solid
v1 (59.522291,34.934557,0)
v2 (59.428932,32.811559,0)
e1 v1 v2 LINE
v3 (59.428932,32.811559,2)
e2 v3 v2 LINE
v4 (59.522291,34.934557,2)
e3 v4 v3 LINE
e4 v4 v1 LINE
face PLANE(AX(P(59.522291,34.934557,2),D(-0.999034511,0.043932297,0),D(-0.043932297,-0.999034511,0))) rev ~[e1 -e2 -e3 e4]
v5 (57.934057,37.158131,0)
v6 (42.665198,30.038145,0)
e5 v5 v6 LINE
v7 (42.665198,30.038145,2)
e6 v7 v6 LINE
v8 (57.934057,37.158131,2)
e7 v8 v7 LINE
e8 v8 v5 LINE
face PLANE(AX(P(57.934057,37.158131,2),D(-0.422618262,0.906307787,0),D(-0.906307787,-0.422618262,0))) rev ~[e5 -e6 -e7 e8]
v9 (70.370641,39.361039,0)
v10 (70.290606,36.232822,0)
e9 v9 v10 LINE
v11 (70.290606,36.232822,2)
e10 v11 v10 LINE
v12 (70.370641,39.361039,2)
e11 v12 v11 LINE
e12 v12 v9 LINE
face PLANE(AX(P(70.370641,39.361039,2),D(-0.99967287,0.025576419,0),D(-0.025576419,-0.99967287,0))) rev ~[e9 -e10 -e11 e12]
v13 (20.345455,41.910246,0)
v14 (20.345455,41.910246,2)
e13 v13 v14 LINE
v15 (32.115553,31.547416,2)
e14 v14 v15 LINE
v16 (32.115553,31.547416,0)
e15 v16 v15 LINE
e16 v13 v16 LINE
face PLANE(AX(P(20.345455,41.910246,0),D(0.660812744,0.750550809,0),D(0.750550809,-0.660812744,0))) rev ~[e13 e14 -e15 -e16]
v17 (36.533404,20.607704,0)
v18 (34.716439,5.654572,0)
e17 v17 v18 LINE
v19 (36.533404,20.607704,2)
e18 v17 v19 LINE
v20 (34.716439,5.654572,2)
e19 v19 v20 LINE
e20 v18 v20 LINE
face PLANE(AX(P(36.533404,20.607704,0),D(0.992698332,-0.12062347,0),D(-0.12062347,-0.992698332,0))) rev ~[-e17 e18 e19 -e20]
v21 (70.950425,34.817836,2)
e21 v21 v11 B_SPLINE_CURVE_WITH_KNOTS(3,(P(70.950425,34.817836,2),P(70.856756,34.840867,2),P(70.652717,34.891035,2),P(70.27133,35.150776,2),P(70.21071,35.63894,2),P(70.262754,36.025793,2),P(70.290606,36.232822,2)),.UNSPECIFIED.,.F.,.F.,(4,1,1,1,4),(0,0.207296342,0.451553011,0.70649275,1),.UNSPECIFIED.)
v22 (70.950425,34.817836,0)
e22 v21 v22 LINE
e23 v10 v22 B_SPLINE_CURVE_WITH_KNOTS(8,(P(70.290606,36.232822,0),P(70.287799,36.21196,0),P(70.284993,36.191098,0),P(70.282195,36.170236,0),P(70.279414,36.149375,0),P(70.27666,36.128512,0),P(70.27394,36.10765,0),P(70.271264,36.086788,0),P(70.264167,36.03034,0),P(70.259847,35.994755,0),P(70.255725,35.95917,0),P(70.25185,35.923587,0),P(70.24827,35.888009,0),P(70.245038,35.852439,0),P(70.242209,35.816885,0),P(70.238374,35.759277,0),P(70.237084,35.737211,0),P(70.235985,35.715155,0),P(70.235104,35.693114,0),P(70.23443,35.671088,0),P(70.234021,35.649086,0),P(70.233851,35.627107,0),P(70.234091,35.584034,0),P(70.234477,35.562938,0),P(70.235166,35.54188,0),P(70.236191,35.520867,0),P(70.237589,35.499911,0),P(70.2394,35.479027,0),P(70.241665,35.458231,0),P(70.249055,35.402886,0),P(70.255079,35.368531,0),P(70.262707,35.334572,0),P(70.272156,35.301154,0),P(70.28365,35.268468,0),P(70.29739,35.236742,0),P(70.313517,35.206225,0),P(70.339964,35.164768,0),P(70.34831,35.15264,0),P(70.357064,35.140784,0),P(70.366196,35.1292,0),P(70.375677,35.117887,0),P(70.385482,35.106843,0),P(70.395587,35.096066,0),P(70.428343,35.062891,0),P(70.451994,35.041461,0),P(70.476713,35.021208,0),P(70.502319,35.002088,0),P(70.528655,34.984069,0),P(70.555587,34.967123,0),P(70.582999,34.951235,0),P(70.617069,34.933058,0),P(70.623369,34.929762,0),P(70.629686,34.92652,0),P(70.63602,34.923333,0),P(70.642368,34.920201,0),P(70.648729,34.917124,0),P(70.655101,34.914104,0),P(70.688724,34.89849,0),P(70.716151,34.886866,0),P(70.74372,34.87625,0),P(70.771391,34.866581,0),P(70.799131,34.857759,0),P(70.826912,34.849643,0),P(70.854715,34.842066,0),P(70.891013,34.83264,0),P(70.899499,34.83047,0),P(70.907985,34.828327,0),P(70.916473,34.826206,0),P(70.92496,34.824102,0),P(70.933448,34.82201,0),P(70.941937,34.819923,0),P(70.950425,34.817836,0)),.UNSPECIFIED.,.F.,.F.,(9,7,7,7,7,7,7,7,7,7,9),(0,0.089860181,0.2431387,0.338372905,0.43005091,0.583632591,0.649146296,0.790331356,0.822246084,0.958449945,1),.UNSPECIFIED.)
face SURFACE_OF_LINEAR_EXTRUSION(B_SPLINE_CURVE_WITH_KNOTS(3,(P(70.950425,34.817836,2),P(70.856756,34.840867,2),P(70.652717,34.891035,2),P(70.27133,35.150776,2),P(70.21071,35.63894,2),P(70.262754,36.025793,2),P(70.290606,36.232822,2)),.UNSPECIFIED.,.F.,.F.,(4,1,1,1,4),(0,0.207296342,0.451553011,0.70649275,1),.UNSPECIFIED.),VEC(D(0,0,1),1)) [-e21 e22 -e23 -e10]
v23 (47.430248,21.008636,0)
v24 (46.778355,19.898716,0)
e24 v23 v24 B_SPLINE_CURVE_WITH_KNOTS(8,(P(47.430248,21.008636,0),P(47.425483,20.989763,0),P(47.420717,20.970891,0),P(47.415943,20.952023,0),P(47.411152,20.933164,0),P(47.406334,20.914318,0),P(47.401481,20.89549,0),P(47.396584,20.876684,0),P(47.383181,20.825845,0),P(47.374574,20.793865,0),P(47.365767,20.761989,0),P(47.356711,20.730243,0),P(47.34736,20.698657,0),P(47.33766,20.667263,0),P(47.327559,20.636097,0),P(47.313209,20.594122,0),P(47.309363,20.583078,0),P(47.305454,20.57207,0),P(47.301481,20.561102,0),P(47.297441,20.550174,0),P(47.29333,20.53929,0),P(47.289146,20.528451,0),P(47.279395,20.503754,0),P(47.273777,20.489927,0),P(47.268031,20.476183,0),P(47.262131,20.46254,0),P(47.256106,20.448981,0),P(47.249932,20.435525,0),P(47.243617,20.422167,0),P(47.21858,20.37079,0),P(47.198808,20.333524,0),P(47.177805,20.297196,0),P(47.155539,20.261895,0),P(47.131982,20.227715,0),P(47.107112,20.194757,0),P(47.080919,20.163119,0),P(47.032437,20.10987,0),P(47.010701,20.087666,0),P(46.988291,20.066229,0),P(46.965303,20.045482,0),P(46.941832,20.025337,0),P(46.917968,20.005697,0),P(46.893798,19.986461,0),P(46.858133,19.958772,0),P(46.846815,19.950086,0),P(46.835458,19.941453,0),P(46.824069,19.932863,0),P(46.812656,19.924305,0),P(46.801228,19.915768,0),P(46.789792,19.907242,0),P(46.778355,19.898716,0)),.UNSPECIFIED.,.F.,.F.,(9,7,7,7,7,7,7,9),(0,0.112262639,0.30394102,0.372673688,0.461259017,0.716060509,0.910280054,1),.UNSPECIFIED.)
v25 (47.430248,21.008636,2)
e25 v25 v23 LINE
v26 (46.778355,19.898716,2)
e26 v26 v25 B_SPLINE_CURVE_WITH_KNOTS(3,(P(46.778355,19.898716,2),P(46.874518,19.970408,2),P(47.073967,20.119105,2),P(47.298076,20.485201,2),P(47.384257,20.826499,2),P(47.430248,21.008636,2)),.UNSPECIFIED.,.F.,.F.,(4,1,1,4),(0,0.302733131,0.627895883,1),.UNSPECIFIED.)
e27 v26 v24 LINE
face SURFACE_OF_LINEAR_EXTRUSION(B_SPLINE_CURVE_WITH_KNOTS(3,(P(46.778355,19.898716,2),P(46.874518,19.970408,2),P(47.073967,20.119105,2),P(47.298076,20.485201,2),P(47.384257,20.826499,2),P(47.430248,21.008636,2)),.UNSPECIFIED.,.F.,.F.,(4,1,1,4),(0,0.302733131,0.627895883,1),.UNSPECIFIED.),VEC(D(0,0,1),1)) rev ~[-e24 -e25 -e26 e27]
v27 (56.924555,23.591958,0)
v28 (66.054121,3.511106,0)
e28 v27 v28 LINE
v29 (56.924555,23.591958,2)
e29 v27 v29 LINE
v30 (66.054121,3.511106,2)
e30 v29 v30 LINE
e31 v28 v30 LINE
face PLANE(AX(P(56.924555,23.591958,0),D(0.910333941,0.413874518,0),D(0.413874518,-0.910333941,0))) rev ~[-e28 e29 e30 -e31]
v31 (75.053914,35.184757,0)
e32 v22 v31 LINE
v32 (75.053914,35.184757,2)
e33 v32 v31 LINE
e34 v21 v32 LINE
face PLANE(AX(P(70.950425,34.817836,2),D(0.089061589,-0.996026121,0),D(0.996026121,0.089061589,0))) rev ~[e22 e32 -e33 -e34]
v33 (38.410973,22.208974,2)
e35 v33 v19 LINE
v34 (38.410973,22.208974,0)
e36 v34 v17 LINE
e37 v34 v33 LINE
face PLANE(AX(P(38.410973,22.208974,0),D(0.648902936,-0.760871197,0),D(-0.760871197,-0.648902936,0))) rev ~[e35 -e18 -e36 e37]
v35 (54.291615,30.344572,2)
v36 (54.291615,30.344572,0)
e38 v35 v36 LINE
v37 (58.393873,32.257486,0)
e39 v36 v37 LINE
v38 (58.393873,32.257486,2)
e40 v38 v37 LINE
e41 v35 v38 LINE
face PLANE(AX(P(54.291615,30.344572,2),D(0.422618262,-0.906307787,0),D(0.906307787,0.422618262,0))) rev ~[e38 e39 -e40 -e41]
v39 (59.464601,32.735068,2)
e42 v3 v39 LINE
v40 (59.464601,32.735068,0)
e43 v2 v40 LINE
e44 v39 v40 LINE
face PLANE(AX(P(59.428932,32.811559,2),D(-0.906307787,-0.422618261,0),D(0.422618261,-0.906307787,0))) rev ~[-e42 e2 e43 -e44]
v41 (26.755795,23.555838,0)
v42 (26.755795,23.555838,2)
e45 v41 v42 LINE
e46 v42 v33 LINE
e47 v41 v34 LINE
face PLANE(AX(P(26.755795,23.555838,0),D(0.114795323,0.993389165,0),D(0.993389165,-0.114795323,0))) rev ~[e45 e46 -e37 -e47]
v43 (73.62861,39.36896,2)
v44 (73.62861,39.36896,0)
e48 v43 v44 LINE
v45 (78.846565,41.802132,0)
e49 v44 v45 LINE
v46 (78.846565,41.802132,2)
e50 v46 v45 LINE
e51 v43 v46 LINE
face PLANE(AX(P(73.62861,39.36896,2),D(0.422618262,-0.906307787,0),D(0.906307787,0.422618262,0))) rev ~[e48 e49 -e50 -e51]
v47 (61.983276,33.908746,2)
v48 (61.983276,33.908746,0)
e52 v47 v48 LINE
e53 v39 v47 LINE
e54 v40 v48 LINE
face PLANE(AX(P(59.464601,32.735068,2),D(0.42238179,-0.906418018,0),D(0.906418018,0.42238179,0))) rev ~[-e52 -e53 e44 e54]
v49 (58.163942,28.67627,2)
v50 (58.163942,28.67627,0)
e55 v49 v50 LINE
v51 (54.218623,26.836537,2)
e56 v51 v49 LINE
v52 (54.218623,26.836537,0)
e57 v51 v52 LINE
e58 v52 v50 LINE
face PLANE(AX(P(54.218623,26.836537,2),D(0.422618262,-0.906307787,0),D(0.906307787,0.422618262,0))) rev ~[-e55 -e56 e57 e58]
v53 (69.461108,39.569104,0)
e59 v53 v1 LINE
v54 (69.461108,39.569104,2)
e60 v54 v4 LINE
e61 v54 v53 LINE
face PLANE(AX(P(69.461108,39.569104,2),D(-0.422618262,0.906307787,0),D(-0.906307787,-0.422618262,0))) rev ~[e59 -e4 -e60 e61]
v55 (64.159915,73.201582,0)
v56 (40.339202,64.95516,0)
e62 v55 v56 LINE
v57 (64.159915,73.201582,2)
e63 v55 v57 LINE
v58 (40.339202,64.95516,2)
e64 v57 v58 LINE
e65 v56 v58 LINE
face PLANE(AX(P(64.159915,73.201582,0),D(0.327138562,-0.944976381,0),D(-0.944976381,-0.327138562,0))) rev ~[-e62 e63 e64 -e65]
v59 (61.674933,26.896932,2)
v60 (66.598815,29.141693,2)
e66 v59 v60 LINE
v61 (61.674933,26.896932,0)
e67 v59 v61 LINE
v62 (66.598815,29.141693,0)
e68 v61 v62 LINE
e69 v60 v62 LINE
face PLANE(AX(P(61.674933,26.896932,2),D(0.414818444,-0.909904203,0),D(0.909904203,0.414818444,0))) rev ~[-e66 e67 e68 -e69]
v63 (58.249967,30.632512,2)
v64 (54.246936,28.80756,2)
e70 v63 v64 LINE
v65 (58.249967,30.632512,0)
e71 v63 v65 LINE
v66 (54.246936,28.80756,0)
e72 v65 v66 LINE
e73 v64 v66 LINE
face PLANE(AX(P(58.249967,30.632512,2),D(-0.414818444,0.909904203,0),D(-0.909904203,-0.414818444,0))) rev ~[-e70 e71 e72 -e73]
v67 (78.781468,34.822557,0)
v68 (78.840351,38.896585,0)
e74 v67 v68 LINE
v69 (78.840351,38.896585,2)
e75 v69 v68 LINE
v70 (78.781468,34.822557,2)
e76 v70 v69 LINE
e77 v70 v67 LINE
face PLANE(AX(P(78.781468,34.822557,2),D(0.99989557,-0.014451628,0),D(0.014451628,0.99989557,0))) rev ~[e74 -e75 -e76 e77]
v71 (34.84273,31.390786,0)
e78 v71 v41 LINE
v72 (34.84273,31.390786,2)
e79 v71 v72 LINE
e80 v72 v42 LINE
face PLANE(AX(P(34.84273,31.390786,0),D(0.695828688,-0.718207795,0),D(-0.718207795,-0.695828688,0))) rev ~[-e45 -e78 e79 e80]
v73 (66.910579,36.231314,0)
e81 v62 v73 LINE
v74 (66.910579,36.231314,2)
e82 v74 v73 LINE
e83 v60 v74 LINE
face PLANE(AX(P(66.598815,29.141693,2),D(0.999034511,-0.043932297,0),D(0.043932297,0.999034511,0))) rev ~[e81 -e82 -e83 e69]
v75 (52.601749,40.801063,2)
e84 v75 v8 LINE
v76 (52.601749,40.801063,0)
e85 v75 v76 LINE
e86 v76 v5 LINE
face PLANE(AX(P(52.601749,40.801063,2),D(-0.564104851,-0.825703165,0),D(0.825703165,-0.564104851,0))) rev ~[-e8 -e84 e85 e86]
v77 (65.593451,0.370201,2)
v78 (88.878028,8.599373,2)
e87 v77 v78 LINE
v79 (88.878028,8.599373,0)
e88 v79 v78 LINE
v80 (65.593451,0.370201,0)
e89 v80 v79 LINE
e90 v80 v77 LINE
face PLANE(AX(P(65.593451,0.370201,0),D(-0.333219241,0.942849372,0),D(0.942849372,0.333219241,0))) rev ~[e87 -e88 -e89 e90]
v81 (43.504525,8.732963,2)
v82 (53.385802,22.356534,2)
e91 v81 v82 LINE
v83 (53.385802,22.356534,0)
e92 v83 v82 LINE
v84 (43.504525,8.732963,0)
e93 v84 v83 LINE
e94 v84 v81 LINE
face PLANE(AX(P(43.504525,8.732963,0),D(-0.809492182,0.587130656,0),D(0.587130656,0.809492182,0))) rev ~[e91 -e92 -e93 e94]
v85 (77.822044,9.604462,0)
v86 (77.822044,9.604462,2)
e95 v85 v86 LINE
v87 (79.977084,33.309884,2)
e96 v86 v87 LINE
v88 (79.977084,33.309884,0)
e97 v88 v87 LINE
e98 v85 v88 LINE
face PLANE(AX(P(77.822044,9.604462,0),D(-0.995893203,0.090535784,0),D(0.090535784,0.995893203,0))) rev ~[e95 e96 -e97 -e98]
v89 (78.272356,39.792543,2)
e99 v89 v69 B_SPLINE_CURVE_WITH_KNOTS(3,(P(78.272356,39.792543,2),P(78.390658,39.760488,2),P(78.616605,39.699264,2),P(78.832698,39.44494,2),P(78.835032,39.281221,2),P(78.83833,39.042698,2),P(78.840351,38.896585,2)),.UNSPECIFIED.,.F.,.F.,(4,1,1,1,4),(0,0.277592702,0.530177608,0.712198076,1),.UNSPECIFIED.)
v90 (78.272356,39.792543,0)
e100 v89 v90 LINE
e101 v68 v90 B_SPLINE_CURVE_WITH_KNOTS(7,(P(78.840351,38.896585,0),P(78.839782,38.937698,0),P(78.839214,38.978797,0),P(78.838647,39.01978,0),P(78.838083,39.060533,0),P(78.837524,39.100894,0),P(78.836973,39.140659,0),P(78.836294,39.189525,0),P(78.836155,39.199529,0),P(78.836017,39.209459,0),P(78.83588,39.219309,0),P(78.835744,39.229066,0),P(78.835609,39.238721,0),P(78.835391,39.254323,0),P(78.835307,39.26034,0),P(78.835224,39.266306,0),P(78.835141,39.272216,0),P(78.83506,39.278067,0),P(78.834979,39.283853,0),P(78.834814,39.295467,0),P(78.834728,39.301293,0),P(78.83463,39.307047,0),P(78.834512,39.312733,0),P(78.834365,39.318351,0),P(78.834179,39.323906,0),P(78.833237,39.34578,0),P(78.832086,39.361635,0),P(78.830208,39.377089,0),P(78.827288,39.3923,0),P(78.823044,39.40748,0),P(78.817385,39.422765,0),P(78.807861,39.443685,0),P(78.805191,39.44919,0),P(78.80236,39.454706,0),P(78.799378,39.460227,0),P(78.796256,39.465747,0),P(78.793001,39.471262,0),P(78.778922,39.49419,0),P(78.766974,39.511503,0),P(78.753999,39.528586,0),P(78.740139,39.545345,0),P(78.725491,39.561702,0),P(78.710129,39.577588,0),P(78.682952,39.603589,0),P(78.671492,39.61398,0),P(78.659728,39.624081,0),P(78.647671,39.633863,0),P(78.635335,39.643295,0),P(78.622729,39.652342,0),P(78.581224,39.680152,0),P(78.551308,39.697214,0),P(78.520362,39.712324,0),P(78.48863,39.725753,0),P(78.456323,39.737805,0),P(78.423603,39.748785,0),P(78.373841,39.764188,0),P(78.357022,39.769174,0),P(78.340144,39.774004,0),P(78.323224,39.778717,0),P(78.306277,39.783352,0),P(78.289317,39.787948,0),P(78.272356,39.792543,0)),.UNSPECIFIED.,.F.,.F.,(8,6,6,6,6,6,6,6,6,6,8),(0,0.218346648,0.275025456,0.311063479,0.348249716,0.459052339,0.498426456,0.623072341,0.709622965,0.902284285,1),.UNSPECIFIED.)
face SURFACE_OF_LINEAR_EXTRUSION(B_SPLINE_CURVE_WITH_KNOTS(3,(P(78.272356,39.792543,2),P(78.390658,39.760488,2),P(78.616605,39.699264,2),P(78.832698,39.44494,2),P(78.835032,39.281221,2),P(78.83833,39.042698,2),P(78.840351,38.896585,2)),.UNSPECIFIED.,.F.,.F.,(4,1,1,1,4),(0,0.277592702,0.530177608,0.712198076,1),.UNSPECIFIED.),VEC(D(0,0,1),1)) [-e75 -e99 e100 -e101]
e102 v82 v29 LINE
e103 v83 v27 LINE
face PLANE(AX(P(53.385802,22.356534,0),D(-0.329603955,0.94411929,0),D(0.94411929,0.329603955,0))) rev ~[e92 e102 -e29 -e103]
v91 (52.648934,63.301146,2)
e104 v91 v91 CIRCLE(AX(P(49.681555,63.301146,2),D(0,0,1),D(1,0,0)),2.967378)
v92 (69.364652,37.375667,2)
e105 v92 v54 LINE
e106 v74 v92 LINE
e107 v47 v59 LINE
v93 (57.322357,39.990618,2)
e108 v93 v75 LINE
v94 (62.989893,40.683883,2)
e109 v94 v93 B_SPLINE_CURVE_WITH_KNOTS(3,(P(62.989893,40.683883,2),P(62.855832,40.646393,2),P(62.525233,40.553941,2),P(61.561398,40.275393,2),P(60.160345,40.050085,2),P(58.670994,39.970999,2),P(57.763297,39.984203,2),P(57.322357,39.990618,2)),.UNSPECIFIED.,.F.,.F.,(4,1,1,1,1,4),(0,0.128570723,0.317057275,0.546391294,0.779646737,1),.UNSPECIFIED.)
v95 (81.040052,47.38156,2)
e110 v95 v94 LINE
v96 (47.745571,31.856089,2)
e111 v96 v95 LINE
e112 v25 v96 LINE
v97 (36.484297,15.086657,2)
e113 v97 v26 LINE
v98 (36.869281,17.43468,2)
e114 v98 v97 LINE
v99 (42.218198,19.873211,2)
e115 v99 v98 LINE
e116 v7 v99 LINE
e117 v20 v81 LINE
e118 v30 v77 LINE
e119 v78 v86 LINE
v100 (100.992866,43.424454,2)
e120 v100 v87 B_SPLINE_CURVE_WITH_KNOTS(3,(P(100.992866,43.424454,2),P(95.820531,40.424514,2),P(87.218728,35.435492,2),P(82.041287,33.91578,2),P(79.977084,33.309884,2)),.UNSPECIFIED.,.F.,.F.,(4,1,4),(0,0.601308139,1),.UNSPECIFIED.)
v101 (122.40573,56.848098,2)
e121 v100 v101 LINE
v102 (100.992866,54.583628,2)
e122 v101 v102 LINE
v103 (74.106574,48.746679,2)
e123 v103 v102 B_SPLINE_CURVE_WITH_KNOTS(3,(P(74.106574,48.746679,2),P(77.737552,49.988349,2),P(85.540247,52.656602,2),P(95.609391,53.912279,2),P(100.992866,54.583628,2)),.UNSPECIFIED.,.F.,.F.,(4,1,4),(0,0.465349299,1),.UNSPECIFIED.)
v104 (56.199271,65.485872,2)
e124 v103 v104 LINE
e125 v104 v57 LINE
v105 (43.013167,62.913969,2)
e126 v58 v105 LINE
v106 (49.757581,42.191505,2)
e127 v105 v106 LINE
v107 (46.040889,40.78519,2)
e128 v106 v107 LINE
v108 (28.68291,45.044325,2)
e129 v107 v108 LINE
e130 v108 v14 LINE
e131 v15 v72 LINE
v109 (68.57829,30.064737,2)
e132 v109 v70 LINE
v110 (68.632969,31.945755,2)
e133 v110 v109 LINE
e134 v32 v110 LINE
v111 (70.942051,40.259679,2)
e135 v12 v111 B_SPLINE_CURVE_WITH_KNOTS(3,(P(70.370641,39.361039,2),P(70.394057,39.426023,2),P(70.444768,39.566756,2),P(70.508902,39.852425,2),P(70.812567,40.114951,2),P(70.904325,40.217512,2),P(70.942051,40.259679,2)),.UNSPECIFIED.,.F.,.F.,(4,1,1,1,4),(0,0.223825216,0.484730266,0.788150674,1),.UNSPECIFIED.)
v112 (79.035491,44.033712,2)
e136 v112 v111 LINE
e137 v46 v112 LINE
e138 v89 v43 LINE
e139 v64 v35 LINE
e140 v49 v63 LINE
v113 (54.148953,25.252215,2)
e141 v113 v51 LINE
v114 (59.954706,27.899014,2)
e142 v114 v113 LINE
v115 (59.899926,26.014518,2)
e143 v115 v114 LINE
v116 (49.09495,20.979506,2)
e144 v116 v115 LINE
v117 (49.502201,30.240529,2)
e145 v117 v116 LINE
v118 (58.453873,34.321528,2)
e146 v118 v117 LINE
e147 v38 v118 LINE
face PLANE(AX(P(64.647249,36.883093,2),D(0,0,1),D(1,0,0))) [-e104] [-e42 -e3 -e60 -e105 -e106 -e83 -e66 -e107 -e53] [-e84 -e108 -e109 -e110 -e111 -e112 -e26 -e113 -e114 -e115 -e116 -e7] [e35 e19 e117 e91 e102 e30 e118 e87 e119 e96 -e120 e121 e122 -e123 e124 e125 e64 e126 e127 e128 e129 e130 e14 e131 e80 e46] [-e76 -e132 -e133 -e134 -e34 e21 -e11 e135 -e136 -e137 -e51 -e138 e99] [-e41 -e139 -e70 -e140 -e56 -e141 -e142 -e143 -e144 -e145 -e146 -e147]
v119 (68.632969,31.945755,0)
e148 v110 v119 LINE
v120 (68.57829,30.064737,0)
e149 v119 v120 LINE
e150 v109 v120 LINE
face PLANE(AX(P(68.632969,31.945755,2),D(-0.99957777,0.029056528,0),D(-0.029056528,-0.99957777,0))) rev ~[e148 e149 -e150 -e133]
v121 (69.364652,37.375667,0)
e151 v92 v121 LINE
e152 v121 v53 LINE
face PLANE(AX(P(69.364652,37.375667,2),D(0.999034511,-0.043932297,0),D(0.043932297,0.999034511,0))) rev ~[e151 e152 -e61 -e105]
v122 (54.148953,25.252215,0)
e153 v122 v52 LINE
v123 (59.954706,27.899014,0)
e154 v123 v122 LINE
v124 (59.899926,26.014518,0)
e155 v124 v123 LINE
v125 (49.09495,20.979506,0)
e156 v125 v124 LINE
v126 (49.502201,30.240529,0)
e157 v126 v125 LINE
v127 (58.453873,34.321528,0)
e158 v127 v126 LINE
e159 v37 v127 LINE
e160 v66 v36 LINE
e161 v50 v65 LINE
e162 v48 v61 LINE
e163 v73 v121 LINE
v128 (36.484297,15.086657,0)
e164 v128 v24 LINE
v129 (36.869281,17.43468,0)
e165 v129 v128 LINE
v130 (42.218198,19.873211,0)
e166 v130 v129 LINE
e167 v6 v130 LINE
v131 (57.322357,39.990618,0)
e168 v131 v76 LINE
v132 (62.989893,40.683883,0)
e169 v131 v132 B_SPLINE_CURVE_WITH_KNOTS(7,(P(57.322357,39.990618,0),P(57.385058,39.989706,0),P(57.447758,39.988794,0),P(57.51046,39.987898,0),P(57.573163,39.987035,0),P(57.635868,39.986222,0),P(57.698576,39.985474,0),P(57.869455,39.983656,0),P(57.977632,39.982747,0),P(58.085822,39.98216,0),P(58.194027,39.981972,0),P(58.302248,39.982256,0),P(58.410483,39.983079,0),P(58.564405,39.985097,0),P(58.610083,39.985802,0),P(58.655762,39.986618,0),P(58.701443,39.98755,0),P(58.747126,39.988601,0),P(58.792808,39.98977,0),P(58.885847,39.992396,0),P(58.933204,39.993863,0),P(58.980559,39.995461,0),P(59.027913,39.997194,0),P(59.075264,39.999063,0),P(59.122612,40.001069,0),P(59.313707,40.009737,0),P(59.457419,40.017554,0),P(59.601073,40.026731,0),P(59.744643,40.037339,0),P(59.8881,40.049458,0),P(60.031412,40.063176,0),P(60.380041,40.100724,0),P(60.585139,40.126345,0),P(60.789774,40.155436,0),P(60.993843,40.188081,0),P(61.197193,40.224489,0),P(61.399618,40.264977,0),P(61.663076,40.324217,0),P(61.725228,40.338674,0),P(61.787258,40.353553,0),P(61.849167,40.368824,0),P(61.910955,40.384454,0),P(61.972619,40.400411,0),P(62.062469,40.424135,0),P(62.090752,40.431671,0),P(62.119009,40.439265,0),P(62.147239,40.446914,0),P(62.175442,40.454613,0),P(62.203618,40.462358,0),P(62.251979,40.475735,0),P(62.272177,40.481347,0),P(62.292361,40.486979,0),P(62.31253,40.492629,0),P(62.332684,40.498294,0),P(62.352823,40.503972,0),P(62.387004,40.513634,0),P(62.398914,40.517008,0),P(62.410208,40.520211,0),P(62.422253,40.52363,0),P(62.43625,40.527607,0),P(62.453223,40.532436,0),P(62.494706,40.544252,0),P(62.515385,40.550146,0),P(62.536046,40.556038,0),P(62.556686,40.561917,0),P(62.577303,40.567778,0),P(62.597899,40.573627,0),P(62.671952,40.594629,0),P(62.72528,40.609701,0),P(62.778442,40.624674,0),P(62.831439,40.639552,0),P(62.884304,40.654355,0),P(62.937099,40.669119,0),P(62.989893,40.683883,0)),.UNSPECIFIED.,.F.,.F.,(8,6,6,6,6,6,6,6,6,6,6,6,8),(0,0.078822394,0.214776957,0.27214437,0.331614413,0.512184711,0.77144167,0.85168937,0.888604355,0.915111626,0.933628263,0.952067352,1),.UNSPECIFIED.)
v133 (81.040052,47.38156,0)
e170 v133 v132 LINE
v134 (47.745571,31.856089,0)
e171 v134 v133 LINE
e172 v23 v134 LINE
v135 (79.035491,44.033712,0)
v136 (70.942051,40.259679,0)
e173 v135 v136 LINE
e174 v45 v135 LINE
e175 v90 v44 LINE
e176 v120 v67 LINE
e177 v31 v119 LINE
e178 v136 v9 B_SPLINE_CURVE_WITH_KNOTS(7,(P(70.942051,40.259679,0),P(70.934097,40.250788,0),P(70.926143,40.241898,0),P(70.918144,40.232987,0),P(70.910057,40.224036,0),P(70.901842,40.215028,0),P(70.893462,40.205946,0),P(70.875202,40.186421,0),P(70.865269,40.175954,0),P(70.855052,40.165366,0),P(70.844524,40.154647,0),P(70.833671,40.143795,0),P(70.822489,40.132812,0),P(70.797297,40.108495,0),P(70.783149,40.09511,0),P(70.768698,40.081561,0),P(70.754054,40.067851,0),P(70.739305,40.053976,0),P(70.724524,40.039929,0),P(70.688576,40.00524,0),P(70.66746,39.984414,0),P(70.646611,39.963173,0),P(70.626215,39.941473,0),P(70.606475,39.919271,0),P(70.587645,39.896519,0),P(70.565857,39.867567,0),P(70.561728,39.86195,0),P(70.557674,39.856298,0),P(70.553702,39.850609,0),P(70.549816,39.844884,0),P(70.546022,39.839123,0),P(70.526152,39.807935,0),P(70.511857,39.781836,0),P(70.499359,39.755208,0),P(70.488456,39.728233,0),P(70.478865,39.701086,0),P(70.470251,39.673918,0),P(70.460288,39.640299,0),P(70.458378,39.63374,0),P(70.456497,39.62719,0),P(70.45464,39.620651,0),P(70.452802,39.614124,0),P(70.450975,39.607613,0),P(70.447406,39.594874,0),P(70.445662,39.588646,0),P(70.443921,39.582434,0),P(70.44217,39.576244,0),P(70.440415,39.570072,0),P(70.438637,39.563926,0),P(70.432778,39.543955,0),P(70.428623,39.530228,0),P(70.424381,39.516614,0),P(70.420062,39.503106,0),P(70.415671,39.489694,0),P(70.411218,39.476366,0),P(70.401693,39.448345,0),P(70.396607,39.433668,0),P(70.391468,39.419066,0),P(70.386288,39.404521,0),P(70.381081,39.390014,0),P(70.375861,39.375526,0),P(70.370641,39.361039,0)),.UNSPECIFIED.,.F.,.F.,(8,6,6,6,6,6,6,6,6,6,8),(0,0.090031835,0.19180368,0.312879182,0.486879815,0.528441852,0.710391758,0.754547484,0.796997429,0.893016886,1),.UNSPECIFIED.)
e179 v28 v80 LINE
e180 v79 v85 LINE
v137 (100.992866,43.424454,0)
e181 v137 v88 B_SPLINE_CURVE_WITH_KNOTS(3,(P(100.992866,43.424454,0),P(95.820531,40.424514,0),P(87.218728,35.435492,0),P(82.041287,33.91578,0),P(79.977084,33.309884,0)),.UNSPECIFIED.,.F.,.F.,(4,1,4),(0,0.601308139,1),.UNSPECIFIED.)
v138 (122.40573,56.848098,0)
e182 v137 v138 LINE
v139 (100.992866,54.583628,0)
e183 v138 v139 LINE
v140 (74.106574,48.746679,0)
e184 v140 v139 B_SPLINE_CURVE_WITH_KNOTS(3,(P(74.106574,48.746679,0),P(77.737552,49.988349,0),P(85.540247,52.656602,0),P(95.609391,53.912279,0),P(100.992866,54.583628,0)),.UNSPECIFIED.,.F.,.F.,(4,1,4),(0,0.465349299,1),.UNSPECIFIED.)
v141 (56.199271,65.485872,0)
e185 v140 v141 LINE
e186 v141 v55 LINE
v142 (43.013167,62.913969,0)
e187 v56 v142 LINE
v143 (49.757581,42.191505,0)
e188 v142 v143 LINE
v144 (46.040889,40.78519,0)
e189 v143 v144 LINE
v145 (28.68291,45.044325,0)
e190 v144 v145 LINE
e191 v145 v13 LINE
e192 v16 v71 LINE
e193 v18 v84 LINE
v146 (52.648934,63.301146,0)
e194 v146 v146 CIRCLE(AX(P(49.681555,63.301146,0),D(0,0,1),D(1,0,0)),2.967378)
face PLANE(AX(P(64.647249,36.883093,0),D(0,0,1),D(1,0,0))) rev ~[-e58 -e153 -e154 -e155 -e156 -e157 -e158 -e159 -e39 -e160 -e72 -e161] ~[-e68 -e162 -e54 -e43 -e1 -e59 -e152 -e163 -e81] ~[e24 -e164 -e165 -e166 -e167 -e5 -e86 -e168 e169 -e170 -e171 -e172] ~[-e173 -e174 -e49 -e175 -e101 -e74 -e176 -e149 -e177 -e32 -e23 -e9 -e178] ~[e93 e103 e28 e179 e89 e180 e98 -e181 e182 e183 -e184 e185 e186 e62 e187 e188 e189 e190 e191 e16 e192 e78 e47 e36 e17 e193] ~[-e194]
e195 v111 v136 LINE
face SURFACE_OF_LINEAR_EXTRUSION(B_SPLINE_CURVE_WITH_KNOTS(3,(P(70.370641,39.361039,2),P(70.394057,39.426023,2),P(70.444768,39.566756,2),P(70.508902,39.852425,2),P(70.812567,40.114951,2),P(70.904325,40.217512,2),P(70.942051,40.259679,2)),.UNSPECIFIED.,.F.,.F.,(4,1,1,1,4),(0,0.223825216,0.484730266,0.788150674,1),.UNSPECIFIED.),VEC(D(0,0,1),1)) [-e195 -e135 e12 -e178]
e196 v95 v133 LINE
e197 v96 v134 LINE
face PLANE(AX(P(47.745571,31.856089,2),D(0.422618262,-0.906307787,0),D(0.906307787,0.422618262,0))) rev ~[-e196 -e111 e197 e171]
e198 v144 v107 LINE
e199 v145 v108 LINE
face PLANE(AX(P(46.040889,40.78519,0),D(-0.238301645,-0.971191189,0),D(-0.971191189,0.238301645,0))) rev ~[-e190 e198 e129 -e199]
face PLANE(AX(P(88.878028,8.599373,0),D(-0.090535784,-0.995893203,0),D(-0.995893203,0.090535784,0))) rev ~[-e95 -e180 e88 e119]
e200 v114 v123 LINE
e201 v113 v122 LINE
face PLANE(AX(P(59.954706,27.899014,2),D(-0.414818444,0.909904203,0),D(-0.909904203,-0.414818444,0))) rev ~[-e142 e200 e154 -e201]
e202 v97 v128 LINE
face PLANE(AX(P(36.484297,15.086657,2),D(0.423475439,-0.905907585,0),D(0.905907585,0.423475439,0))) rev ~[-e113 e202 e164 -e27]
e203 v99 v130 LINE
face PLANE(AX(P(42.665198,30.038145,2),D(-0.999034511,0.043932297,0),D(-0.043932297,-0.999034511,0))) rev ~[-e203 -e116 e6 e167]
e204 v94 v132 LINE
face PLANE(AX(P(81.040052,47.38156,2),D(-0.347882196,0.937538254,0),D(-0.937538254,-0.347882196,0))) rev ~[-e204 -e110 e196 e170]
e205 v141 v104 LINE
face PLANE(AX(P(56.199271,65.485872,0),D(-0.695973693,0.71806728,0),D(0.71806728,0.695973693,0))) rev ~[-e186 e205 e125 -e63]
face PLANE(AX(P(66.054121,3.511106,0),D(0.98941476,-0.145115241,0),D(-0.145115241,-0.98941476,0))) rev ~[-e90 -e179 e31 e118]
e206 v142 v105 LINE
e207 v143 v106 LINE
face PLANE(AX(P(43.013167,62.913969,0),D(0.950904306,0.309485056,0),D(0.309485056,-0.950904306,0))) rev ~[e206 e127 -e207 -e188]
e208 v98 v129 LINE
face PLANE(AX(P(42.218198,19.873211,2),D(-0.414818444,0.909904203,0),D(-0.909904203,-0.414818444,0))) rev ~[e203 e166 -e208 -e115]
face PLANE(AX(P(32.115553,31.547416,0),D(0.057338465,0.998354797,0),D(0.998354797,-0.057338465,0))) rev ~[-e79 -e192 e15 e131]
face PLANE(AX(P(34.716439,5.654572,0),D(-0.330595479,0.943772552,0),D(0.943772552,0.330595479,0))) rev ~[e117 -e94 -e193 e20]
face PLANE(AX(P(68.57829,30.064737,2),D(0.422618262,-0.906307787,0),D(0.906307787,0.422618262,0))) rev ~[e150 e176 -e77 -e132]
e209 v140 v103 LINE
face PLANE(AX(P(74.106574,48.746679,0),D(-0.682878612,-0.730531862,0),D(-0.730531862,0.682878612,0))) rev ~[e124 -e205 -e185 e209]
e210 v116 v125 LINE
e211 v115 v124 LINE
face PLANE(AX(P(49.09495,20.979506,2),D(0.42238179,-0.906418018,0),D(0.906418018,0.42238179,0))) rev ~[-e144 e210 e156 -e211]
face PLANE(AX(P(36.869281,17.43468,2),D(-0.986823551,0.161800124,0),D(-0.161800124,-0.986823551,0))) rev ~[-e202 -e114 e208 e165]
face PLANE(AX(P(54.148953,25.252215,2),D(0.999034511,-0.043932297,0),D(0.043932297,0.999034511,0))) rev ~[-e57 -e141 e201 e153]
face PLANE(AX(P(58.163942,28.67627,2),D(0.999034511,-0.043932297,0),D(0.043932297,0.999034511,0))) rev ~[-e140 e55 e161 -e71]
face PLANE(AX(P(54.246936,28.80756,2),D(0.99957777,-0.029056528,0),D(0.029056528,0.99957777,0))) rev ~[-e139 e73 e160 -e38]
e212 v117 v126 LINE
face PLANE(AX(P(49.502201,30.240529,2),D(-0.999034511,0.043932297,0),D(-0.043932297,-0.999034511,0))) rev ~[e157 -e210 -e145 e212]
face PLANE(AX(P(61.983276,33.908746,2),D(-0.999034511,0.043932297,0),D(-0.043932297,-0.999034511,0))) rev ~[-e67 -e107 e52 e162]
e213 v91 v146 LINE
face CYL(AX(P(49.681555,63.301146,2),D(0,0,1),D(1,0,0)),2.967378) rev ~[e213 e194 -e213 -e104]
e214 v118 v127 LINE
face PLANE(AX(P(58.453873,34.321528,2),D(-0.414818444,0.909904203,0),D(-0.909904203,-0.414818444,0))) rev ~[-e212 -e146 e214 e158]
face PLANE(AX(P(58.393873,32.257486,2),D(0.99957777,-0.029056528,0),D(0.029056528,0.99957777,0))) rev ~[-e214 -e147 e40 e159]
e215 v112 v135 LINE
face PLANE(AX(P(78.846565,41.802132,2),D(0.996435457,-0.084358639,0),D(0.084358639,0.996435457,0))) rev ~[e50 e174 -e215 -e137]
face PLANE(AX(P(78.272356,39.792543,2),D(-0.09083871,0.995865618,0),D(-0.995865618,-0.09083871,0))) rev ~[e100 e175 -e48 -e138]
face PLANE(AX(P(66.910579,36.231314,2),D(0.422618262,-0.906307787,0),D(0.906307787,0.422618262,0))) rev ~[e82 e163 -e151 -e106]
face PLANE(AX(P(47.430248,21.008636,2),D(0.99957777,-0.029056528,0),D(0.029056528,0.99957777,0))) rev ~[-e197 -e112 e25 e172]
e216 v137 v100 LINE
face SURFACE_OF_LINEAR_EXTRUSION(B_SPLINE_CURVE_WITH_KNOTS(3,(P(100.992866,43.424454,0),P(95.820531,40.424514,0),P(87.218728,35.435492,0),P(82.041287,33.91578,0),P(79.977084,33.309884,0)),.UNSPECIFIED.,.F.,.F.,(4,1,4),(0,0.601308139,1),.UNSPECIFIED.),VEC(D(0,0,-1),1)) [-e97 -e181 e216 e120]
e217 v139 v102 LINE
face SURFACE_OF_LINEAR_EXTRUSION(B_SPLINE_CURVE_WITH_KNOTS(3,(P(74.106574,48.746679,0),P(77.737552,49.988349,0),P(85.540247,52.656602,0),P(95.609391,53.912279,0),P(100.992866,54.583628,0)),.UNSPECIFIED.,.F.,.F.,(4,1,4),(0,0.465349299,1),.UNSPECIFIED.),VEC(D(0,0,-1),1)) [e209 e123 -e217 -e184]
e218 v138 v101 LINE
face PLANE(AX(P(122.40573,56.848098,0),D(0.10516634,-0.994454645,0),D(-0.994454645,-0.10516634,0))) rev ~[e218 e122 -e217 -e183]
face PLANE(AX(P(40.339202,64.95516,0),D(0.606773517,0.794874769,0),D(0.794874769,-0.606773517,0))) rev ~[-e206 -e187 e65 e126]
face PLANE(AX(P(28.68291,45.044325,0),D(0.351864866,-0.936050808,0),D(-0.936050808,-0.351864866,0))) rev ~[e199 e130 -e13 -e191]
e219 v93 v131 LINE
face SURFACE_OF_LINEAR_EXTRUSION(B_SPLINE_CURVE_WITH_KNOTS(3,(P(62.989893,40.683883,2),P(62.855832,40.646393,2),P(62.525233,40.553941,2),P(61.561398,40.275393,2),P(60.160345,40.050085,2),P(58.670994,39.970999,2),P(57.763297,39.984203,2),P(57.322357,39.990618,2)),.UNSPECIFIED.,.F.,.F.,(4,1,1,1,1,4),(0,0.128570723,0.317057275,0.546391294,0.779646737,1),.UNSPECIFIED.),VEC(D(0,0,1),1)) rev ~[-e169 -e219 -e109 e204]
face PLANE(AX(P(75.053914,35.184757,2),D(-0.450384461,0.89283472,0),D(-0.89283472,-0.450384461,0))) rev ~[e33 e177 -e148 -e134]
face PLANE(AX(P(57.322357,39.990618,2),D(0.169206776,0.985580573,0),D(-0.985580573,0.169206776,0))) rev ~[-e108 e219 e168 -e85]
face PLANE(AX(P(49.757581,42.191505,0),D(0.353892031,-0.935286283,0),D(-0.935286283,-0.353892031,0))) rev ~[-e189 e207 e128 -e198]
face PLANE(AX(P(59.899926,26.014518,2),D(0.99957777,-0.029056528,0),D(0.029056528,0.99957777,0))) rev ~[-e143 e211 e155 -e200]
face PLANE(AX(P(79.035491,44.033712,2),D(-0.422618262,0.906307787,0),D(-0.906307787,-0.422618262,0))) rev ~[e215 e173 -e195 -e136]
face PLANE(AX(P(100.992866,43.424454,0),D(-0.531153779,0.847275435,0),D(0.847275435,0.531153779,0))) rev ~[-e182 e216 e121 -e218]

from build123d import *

# Parameters (mm, degrees)
F1_DEPTH = 2
F3_DEPTH = 25.4
F4_R     = 2.9673782323
F5_DEPTH = 25.4


with BuildPart() as f1:
    # F0 (on Top) → F1 (new body)
    with BuildSketch(Plane.XY):
        with BuildLine():
            Line((36.5334041417, 20.6077042967), (34.7164385021, 5.6545715779))
            Line((34.7164385021, 5.6545715779), (43.504524976, 8.7329633534))
            Line((43.504524976, 8.7329633534), (53.3858016133, 22.3565343767))
            Line((53.3858016133, 22.3565343767), (56.9245554507, 23.5919579864))
            Line((56.9245554507, 23.5919579864), (66.0541206598, 3.5111056641))
            Line((66.0541206598, 3.5111056641), (65.5934512615, 0.3702012473))
            Line((65.5934512615, 0.3702012473), (88.8780280948, 8.5993725806))
            Line((88.8780280948, 8.5993725806), (77.8220444918, 9.6044624224))
            Line((77.8220444918, 9.6044624224), (79.9770836988, 33.3098837159))
            add(Edge.make_bspline(
                [(100.9928658605, 43.4244535863), (95.8205314108, 40.4245140318), (87.218727926, 35.4354920021), (82.0412871818, 33.9157803728), (79.9770836988, 33.3098837159)],
                knots=[0, 0, 0, 0, 0.6013081395, 1, 1, 1, 1], degree=3))
            Line((100.9928658605, 43.4244535863), (122.4057301879, 56.8480975926))
            Line((122.4057301879, 56.8480975926), (100.9928658605, 54.5836277306))
            add(Edge.make_bspline(
                [(74.1065740585, 48.7466789782), (77.7375523931, 49.9883488185), (85.5402467252, 52.6566022015), (95.6093908771, 53.9122791626), (100.9928658605, 54.5836277306)],
                knots=[0, 0, 0, 0, 0.4653492986, 1, 1, 1, 1], degree=3))
            Line((74.1065740585, 48.7466789782), (56.1992712319, 65.4858723283))
            Line((56.1992712319, 65.4858723283), (64.1599148512, 73.2015818357))
            Line((64.1599148512, 73.2015818357), (40.3392016888, 64.9551600218))
            Line((40.3392016888, 64.9551600218), (43.0131666362, 62.9139691591))
            Line((43.0131666362, 62.9139691591), (49.7575812042, 42.1915054321))
            Line((49.7575812042, 42.1915054321), (46.0408888757, 40.785189718))
            Line((46.0408888757, 40.785189718), (28.6829099059, 45.0443252921))
            Line((28.6829099059, 45.0443252921), (20.3454550356, 41.9102460146))
            Line((20.3454550356, 41.9102460146), (32.1155525744, 31.5474160016))
            Line((32.1155525744, 31.5474160016), (34.8427295685, 31.390786171))
            Line((34.8427295685, 31.390786171), (26.7557948828, 23.5558375716))
            Line((26.7557948828, 23.5558375716), (38.4109728038, 22.2089737654))
            Line((38.4109728038, 22.2089737654), (36.5334041417, 20.6077042967))
        make_face()
    extrude(amount=F1_DEPTH)

    # F2 (on face) → F3 (cut)
    with BuildSketch(Plane.XY.offset(2)):
        with BuildLine():
            Line((42.2181976585, 19.8732110921), (36.8692806095, 17.4346802651))
            Line((36.8692806095, 17.4346802651), (36.4842974601, 15.086657103))
            Line((36.4842974601, 15.086657103), (46.7783554459, 19.8987160716))
            add(Edge.make_bspline(
                [(46.7783554459, 19.8987160716), (46.8745176, 19.9704084061), (47.0739666013, 20.1191047892), (47.2980762453, 20.485200609), (47.3842570525, 20.8264985477), (47.4302483861, 21.0086359383)],
                knots=[0, 0, 0, 0, 0.3027331314, 0.6278958833, 1, 1, 1, 1], degree=3))
            Line((47.4302483861, 21.0086359383), (47.7455708418, 31.8560887995))
            Line((47.7455708418, 31.8560887995), (81.0400521274, 47.3815603972))
            Line((81.0400521274, 47.3815603972), (62.989893266, 40.6838828661))
            add(Edge.make_bspline(
                [(62.989893266, 40.6838828661), (62.8558315332, 40.6463925764), (62.5252333481, 40.5539409762), (61.561398363, 40.2753929938), (60.1603447931, 40.0500849593), (58.6709939197, 39.9709989719), (57.7632965831, 39.984203494), (57.3223569205, 39.9906179643)],
                knots=[0, 0, 0, 0, 0.128570723, 0.3170572751, 0.5463912938, 0.7796467371, 1, 1, 1, 1], degree=3))
            Line((57.3223569205, 39.9906179643), (52.6017494717, 40.801062884))
            Line((52.6017494717, 40.801062884), (57.934057, 37.1581308102))
            Line((57.934057, 37.1581308102), (42.6651981272, 30.0381449865))
            Line((42.6651981272, 30.0381449865), (42.2181976585, 19.8732110921))
        make_face()
        Polygon((49.5022008402, 30.2405287443), (49.0949496514, 20.9795062106), (59.8999263935, 26.0145180069), (59.9547064443, 27.8990143615), (54.1489528303, 25.2522151997), (54.2186230073, 26.8365373498), (58.1639420177, 28.6762698182), (58.2499672688, 30.6325115923), (54.2469362683, 28.8075600354), (54.2916153656, 30.3445720468), (58.3938732965, 32.2574863357), (58.4538725188, 34.3215281581), align=None)
        Polygon((59.5222907582, 34.9345568584), (59.428932466, 32.8115593767), (59.4646008131, 32.7350683593), (61.9832756911, 33.9087458252), (61.6749329049, 26.8969320603), (66.5988146686, 29.1416925155), (66.910579019, 36.231313745), (69.3646524393, 37.3756669746), (69.4611082747, 39.5691035793), align=None)
        with BuildLine():
            Line((68.6329693369, 31.9457548078), (68.5782904095, 30.0647372126))
            Line((68.5782904095, 30.0647372126), (78.7814682825, 34.8225571923))
            Line((78.7814682825, 34.8225571923), (78.8403507658, 38.8965850372))
            add(Edge.make_bspline(
                [(78.2723558252, 39.7925434403), (78.3906581343, 39.7604877829), (78.6166051238, 39.6992643009), (78.8326978206, 39.4449395511), (78.8350317991, 39.281221064), (78.8383302277, 39.0426983364), (78.8403507658, 38.8965850372)],
                knots=[0, 0, 0, 0, 0.2775927016, 0.5301776076, 0.7121980765, 1, 1, 1, 1], degree=3))
            Line((78.2723558252, 39.7925434403), (73.6286103285, 39.3689603356))
            Line((73.6286103285, 39.3689603356), (78.8465645596, 41.8021323534))
            Line((78.8465645596, 41.8021323534), (79.0354909806, 44.0337115572))
            Line((79.0354909806, 44.0337115572), (70.9420511465, 40.2596785817))
            add(Edge.make_bspline(
                [(70.3706405965, 39.3610387878), (70.3940565505, 39.4260226012), (70.4447676448, 39.5667557219), (70.5089015879, 39.8524246499), (70.812566625, 40.1149514275), (70.9043252634, 40.2175116908), (70.9420511465, 40.2596785817)],
                knots=[0, 0, 0, 0, 0.2238252163, 0.4847302664, 0.788150674, 1, 1, 1, 1], degree=3))
            Line((70.3706405965, 39.3610387878), (70.2906058242, 36.2328217133))
            add(Edge.make_bspline(
                [(70.9504246956, 34.8178355773), (70.8567559171, 34.8408667038), (70.6527174927, 34.8910353388), (70.2713296013, 35.1507757935), (70.2107102416, 35.6389400995), (70.2627540341, 36.0257931705), (70.2906058242, 36.2328217133)],
                knots=[0, 0, 0, 0, 0.2072963417, 0.4515530113, 0.7064927503, 1, 1, 1, 1], degree=3))
            Line((70.9504246956, 34.8178355773), (75.0539136601, 35.1847569247))
            Line((75.0539136601, 35.1847569247), (68.6329693369, 31.9457548078))
        make_face()
    extrude(amount=-F3_DEPTH, mode=Mode.SUBTRACT)

    # F4 (on face) → F5 (cut)
    with BuildSketch(Plane.XY.offset(2)):
        with Locations((49.6815554798, 63.3011460304)):
            Circle(F4_R)
    extrude(amount=-F5_DEPTH, mode=Mode.SUBTRACT)


solid = f1.part
